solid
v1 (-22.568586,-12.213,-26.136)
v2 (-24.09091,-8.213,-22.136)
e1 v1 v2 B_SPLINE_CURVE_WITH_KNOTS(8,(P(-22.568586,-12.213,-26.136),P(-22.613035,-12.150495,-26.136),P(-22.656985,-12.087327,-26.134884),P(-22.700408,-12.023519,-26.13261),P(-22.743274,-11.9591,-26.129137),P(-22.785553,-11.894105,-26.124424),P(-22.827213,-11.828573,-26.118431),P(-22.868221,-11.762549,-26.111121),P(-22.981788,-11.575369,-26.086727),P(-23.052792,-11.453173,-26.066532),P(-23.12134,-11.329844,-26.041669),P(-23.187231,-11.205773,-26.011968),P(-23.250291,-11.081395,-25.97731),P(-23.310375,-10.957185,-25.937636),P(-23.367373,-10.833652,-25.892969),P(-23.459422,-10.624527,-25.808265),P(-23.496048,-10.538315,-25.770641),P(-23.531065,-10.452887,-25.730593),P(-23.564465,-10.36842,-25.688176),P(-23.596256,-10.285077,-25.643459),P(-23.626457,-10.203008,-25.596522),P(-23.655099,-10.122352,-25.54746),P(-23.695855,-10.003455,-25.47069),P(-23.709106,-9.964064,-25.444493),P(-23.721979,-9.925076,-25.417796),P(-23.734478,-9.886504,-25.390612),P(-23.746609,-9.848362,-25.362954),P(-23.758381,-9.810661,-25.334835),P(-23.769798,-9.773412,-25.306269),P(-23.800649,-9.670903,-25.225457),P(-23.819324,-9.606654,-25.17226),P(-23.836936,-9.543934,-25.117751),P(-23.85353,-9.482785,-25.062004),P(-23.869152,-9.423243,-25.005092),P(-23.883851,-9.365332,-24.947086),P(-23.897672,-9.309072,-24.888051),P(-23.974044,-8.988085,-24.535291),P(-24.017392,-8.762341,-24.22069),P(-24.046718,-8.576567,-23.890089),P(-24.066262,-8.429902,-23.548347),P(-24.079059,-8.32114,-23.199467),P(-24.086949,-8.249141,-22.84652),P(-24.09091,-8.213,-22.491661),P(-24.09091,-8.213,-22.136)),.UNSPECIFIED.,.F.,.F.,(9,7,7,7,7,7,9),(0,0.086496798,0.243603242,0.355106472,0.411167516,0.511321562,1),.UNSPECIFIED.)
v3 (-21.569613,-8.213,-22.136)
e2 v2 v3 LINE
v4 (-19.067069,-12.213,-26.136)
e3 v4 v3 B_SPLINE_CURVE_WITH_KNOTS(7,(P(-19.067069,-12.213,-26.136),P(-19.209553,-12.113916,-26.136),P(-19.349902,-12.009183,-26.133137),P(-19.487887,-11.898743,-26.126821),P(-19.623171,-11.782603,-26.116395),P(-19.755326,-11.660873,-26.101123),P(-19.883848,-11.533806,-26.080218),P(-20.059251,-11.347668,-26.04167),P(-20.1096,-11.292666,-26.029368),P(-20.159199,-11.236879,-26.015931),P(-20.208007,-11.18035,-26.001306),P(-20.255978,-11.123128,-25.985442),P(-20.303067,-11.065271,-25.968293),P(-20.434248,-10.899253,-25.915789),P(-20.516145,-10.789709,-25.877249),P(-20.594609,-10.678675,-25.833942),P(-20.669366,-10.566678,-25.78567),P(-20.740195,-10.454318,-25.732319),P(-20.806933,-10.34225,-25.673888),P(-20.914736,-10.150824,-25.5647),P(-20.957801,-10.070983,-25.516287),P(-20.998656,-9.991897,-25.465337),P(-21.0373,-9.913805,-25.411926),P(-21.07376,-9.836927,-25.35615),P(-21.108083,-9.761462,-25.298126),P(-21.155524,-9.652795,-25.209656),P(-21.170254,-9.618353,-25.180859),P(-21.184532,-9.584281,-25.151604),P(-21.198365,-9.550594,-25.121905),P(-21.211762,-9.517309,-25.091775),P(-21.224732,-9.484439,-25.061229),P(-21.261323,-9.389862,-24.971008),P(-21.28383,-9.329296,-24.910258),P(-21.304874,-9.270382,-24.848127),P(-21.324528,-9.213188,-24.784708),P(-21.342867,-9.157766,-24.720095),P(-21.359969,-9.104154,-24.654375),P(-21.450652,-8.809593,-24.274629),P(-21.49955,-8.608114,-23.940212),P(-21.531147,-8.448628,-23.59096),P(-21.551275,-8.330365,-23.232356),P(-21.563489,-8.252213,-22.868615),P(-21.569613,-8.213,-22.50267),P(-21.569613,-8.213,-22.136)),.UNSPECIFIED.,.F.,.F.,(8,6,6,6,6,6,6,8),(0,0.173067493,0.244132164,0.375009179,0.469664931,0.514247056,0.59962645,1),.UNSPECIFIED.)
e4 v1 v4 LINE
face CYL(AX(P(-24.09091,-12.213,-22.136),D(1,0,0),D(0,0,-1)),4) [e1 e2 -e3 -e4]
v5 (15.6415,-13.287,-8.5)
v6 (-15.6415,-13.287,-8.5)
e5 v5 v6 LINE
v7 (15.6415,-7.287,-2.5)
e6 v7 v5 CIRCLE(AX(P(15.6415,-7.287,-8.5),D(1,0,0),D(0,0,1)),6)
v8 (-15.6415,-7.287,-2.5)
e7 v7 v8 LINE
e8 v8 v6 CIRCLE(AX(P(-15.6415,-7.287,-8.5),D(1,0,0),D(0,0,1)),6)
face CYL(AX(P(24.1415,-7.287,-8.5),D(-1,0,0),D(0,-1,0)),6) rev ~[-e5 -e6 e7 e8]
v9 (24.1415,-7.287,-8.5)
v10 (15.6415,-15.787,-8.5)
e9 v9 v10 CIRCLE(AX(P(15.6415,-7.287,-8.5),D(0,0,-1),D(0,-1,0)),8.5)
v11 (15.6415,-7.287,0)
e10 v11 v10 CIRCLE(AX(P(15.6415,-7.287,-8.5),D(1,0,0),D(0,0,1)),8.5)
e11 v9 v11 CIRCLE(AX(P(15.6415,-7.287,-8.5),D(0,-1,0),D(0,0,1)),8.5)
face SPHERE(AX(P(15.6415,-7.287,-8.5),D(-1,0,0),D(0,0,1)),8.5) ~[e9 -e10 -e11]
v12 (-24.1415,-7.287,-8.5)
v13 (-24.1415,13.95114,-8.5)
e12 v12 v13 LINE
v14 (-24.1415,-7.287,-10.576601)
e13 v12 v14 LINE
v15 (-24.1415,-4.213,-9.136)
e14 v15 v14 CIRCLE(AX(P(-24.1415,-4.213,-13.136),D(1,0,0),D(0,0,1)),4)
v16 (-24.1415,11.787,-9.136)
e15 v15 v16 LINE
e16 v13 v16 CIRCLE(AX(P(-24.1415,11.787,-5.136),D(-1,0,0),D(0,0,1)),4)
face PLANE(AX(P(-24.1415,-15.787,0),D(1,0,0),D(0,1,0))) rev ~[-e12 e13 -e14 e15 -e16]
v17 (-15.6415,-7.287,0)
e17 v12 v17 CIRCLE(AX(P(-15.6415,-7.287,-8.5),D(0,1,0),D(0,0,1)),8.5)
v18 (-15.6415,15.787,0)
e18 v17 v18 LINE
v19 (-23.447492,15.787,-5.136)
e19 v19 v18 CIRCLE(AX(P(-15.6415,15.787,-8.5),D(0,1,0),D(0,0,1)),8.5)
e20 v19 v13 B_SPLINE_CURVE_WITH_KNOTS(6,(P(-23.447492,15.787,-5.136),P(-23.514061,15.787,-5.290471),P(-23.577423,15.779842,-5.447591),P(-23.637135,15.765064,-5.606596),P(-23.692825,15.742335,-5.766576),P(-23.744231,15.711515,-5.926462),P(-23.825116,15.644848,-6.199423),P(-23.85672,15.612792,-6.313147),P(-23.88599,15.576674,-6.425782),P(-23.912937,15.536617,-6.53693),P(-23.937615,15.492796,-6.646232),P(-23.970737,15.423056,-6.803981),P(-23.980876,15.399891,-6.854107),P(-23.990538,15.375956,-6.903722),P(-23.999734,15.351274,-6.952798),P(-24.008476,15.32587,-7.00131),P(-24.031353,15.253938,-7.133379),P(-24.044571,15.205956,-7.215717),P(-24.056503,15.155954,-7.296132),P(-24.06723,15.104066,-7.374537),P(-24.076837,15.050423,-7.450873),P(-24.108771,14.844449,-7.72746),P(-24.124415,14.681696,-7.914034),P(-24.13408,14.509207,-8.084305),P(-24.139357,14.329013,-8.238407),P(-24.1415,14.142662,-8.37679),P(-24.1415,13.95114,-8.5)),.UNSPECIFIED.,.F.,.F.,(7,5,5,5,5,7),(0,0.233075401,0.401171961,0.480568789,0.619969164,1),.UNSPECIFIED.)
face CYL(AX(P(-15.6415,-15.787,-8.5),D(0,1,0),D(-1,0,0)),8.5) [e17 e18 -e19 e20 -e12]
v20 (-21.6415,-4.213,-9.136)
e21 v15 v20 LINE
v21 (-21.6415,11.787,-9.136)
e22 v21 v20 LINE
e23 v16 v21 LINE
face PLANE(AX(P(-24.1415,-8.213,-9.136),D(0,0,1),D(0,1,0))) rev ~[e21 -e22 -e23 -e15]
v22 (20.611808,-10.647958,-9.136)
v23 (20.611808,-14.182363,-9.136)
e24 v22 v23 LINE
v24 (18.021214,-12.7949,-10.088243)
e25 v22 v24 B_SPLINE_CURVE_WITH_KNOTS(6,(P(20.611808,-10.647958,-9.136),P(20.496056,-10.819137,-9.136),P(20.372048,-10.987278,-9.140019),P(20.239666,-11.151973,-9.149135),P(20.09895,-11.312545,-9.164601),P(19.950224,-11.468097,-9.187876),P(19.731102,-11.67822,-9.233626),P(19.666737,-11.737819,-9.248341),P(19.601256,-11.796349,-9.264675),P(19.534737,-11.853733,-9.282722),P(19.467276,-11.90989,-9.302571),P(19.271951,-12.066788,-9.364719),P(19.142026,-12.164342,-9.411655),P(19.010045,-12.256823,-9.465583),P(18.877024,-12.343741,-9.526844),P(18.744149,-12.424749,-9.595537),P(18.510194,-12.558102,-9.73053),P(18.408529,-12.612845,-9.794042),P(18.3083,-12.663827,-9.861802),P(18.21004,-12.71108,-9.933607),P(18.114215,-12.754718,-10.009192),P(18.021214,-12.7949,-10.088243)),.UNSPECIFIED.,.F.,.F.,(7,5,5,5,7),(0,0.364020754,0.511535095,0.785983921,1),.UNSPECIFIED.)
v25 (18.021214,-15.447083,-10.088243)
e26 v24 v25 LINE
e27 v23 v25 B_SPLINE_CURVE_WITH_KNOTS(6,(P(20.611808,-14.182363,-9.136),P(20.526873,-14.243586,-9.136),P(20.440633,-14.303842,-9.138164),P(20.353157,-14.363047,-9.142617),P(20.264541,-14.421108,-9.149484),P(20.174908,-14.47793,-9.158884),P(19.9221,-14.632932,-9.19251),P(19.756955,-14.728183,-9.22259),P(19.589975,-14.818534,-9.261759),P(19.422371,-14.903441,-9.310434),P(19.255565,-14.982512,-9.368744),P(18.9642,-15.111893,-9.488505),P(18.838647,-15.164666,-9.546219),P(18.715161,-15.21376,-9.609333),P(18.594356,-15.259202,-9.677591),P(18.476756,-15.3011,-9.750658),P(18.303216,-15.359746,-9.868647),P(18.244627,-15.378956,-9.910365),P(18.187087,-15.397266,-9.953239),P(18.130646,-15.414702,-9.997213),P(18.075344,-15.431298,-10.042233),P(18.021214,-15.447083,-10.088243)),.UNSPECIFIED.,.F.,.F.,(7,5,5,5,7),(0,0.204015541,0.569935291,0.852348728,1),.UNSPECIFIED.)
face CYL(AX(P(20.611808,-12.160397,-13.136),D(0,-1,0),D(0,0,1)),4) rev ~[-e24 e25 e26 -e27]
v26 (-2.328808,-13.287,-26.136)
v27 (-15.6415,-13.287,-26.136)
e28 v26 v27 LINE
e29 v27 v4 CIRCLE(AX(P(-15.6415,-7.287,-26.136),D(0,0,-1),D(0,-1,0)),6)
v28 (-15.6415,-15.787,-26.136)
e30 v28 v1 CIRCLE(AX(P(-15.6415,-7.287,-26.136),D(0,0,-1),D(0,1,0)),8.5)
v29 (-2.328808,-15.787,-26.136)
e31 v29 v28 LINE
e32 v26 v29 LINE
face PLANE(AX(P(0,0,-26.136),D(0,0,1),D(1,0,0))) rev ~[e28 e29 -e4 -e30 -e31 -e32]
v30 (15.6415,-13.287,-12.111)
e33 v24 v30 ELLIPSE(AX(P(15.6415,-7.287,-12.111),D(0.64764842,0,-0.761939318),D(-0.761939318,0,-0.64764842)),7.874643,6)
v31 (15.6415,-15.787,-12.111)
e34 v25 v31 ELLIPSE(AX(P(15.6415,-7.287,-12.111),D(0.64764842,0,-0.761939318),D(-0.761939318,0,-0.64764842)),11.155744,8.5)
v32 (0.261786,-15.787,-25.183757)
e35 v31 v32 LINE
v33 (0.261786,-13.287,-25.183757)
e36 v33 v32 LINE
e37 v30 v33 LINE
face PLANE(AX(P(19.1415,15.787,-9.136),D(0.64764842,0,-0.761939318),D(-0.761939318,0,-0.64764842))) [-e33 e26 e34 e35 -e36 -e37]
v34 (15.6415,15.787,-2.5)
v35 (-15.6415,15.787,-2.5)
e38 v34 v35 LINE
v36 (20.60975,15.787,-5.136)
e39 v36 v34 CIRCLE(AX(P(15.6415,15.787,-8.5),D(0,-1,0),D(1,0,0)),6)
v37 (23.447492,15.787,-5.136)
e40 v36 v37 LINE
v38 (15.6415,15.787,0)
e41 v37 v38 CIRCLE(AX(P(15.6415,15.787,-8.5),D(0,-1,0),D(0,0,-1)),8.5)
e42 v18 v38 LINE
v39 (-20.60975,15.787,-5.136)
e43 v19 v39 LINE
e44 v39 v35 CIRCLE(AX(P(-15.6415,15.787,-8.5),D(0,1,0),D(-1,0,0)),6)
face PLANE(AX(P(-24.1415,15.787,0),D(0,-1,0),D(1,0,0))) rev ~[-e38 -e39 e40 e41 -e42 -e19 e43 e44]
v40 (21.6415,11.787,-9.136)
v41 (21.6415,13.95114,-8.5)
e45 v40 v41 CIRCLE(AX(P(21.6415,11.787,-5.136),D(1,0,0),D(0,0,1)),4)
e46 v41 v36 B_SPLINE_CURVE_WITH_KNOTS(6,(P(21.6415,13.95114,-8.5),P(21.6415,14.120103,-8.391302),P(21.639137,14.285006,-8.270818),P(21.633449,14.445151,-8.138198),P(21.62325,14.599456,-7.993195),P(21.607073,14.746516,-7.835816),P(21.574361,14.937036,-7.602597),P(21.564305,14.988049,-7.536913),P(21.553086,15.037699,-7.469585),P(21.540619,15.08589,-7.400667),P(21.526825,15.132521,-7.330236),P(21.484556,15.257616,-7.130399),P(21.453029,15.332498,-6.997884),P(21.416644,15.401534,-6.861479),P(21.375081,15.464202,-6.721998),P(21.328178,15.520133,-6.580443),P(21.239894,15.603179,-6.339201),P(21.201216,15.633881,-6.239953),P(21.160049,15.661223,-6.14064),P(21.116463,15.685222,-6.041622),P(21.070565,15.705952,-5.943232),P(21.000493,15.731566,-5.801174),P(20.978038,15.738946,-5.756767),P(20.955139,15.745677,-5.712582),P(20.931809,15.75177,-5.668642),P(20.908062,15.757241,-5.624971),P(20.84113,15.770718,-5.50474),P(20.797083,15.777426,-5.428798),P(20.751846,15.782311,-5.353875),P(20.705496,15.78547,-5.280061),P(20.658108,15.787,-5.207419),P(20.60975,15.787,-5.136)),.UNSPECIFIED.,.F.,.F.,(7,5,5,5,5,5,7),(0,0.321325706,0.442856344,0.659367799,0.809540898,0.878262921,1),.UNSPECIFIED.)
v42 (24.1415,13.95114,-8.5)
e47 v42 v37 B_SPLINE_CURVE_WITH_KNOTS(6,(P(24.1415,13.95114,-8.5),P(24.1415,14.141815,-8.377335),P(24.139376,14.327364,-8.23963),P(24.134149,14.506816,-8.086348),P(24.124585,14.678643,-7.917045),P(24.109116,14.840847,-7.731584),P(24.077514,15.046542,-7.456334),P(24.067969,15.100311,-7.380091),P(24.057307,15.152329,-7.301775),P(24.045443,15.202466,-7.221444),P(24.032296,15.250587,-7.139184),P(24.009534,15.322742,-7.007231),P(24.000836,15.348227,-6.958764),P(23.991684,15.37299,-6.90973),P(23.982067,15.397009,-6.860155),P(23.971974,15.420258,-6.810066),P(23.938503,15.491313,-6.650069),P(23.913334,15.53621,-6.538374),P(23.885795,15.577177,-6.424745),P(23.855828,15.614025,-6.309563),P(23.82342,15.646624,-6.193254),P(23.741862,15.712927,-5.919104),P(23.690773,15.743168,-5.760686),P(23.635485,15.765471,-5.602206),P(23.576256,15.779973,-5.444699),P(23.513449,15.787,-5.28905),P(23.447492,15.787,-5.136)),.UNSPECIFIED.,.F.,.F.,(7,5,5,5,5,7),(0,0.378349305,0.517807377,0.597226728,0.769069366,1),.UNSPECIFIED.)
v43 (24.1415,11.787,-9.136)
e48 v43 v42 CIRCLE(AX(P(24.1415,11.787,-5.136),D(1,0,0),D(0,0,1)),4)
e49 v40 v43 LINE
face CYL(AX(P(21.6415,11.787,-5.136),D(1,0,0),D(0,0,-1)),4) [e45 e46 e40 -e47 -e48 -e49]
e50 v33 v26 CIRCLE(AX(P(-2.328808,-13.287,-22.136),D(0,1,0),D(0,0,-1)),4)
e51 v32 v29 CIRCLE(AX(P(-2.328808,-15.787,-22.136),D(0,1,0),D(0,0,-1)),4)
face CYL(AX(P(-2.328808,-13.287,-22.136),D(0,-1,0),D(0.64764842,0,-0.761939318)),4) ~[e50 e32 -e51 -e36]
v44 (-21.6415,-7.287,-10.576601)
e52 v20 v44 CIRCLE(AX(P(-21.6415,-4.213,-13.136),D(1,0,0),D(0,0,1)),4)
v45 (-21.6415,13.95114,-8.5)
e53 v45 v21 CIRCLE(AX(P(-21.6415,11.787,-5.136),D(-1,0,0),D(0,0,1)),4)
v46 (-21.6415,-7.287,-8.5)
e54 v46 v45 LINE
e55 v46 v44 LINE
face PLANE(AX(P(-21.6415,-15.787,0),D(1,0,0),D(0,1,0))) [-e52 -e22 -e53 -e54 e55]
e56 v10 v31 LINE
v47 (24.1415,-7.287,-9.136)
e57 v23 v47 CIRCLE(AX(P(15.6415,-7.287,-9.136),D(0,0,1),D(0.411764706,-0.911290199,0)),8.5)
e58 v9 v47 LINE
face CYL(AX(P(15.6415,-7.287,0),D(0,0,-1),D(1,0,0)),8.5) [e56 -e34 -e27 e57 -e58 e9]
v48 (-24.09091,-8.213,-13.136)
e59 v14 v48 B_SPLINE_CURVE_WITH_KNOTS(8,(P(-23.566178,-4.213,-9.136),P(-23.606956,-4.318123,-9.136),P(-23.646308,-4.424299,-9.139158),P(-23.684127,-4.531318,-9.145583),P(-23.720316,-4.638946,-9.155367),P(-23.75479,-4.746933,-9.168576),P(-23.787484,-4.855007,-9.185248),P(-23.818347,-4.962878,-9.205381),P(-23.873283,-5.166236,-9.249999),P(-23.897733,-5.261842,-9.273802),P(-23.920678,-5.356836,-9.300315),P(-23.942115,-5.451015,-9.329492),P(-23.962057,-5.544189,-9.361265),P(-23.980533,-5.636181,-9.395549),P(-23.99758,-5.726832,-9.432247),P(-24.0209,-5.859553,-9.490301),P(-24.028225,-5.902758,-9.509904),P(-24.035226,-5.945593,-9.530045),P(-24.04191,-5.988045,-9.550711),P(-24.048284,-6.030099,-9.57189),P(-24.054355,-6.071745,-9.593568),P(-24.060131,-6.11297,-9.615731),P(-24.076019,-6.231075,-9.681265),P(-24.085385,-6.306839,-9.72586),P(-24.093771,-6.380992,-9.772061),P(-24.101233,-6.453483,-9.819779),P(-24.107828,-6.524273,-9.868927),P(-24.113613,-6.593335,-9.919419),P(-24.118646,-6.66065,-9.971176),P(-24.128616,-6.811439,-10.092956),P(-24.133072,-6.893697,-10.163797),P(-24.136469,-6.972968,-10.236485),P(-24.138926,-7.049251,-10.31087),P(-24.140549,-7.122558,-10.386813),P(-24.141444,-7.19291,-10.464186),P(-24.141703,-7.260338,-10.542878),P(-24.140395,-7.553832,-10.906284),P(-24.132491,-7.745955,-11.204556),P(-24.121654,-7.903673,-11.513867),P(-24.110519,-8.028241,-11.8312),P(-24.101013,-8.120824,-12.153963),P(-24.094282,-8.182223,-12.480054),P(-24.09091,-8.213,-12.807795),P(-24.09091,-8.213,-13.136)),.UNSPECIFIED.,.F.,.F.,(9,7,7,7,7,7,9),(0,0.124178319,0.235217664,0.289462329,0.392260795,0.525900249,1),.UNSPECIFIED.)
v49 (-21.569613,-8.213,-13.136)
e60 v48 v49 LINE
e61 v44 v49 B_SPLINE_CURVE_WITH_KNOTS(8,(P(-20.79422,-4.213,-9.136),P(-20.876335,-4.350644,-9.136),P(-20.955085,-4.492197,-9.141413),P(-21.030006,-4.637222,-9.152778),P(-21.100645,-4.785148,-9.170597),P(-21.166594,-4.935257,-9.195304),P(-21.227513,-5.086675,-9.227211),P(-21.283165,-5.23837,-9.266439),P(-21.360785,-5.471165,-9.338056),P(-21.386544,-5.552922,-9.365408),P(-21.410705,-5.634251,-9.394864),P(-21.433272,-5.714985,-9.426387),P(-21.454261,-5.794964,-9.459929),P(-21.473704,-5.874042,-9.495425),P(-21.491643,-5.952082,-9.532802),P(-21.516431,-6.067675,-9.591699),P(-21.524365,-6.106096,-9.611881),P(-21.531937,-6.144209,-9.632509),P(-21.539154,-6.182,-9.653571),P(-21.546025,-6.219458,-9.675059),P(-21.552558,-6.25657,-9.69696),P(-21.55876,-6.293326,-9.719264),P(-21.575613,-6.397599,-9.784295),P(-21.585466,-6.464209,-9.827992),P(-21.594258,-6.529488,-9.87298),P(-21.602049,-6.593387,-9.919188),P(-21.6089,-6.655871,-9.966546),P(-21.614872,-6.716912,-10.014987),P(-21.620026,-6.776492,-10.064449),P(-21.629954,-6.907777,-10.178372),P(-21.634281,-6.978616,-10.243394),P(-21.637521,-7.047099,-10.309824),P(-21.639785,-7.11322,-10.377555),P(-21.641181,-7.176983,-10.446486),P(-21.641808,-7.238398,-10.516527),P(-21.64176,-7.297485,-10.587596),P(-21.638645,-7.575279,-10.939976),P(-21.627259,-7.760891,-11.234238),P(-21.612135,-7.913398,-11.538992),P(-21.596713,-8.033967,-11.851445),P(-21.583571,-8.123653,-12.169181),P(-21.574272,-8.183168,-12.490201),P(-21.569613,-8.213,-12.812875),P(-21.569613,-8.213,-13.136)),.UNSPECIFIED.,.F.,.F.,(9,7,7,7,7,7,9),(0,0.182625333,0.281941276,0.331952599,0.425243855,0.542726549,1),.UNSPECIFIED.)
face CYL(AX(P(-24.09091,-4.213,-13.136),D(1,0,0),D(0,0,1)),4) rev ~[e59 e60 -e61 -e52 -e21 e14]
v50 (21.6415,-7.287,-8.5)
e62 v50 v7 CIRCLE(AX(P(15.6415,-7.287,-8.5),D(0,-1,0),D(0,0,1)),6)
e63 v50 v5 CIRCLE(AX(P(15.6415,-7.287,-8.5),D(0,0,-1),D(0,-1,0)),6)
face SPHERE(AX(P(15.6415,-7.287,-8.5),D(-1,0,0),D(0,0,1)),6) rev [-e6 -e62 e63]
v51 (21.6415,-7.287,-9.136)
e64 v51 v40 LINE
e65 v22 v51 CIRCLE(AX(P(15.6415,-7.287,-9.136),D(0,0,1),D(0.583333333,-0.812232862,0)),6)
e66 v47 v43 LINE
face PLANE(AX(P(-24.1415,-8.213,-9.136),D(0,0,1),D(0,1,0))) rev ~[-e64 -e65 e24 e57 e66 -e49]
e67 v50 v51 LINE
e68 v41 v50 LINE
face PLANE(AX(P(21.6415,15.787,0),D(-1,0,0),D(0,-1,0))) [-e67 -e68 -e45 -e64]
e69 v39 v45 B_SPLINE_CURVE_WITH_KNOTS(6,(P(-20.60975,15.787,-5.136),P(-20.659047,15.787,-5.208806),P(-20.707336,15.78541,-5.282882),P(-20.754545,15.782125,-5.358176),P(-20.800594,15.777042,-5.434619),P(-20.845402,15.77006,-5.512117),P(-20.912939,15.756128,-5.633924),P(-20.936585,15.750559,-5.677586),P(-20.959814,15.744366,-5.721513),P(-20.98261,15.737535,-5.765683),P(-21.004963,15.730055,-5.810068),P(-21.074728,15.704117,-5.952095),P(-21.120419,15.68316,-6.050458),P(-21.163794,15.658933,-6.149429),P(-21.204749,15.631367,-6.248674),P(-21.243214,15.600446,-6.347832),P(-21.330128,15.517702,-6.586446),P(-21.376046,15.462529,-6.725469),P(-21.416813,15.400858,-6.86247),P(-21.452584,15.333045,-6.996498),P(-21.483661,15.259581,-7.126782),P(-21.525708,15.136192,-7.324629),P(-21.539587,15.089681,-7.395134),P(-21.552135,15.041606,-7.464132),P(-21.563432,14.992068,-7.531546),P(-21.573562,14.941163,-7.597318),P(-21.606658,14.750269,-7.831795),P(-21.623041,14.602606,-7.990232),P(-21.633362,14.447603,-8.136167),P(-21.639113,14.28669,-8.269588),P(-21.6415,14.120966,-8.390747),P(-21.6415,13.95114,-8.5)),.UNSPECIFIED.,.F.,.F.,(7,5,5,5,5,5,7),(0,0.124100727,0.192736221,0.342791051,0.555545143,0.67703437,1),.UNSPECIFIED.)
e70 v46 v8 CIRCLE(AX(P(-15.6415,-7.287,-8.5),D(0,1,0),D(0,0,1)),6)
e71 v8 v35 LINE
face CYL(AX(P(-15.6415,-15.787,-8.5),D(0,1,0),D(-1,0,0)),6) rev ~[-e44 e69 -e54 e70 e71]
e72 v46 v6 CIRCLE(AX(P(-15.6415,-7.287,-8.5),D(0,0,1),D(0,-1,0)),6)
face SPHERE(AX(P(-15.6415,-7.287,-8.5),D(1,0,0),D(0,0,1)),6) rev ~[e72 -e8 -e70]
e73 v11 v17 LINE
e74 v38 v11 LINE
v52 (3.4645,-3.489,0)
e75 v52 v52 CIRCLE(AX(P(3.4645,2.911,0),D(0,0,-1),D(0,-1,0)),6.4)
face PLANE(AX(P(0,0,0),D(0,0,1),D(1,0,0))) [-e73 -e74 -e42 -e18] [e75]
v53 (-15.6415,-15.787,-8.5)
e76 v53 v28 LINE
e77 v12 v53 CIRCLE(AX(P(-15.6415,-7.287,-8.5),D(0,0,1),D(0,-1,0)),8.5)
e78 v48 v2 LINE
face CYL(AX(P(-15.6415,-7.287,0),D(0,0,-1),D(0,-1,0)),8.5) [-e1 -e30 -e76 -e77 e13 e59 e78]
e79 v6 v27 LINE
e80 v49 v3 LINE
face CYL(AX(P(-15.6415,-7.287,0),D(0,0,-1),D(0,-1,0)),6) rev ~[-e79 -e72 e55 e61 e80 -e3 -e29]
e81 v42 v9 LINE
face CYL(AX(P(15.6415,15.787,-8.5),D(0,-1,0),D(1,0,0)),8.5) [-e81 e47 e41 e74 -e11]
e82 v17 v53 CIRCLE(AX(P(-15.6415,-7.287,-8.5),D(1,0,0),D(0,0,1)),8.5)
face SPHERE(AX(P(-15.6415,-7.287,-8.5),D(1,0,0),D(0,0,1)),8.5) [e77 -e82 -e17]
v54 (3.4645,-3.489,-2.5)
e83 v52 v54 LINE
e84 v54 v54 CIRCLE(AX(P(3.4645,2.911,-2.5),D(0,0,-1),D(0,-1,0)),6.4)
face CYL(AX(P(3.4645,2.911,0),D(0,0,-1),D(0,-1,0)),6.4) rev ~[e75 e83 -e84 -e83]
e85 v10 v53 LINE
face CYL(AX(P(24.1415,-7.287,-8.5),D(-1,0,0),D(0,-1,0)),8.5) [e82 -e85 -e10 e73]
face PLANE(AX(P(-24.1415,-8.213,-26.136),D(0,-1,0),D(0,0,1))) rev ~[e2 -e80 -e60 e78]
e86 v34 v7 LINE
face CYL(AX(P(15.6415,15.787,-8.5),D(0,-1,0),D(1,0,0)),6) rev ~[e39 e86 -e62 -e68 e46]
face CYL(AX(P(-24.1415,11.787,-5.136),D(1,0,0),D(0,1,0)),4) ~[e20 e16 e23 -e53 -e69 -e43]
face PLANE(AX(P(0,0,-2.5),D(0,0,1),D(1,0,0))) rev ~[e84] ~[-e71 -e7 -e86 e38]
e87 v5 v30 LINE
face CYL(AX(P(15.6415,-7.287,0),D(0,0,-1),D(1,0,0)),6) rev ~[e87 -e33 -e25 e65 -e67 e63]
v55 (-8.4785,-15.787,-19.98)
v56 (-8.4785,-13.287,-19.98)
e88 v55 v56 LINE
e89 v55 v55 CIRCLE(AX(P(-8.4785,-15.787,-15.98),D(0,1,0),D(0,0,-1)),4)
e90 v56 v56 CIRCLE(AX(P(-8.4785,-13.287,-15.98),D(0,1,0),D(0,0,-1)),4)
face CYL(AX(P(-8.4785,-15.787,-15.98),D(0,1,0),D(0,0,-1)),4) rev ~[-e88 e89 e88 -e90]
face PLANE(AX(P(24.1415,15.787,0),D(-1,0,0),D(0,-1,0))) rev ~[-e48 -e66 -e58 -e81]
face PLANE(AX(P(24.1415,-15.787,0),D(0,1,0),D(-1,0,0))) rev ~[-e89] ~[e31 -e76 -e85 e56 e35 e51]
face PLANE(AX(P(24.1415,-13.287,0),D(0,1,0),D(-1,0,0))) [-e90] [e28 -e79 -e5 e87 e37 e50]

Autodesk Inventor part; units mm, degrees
ref_plane "YZ Plane" through (0, 0, 0) normal (1, 0, 0) x (0, 1, 0)
ref_plane "XZ Plane" through (0, 0, 0) normal (0, 1, 0) x (-1, 0, 0)
ref_plane "XY Plane" through (0, 0, 0) normal (0, 0, 1) x (1, 0, 0)
sketch "Sketch1" plane through (0, 0, 0) normal (0, 0, 1) x (1, 0, 0)
  line L0 (-24.1415, 15.787) -> (24.1415, 15.787)
  line L1 (24.1415, 15.787) -> (24.1415, -15.787)
  line L2 (24.1415, -15.787) -> (-24.1415, -15.787)
  line L3 (-24.1415, -15.787) -> (-24.1415, 15.787)
  point P0 (0, 0)
  dimension "d0" = 31.574
  dimension "d1" = 48.283
  dimension "d2" = 24.1415
  dimension "d3" = 15.787
extrude "Extrusion1" add sketch "Sketch1" against normal blind 26.136
fillet "Fillet1" radius 8.5 5 edges at (0, -15.787, 0) (24.1415, 0, 0) (-24.1415, 0, 0) (-24.1415, -15.787, -13.068) (24.1415, -15.787, -13.068)
shell "Shell1" thickness 2.5 removed faces 2 at (5.2138, 15.787, -17.424) at (-5.2138, 5.2623, -26.136)
sketch "Sketch2" plane through (-24.1415, -7.287, -8.5) normal (-1, 0, 0) x (0, 0, 1)
  line L0 (0, 23.074) -> (-17.636, 23.074) projected
  line L1 (-17.636, 23.074) -> (-17.636, 0) projected
  line L2 (-17.636, -0.926) -> (-0.636, -0.926)
  line L3 (-0.636, -0.926) -> (-0.636, 23.074)
  line L4 (-0.636, 23.074) -> (-17.636, 23.074)
  line L5 (-17.636, 23.074) -> (-17.636, -0.926)
  point P0 (8.5, 7.287)
  dimension "d8" = 17
  dimension "d9" = 24
extrude "Extrusion2" cut sketch "Sketch2" against normal through all
sketch "Sketch3" plane through (-15.6415, 15.787, 0) normal (0, 1, 0) x (1, 0, 0)
  line L0 (39.783, 8.5) -> (39.783, 9.136) projected
  line L1 (39.783, 9.136) -> (34.783, 9.136)
  line L2 (34.783, 9.136) -> (14.783, 26.136)
  line L3 (0, 26.136) -> (31.283, 26.136) projected
  line L4 (39.783, 9.136) -> (39.783, 26.136)
  line L5 (39.783, 26.136) -> (14.783, 26.136)
  point P0 (15.6415, 0)
  dimension "d12" = 5
  dimension "d13" = 20
extrude "Extrusion3" cut sketch "Sketch3" against normal through all
fillet "Fillet2" radius 4 6 edges at (-22.8303, -8.213, -26.136) (19.1415, -13.5967, -9.136) (-22.8303, -8.213, -9.136) (-22.8915, 15.787, -9.136) (22.8915, 15.787, -9.136) (-0.8585, -14.537, -26.136)
sketch "Sketch4" plane through (0, 0, 0) normal (0, 0, 1) x (1, 0, 0)
  line L0 (0.2618, -15.787) -> (-2.3288, -15.787) projected
  line L1 (0.2618, -15.787) -> (15.6415, -15.787) projected
  line L2 (-15.6415, -15.787) -> (15.6415, -15.787) projected
  line L3 (-15.6415, -15.787) -> (-2.3288, -15.787) projected
  line L4 (-24.1415, 11.787) -> (-24.1415, 13.9511) projected
  line L5 (-24.1415, 11.787) -> (-24.1415, -4.213) projected
  line L6 (-24.1415, -4.213) -> (-24.1415, -7.287) projected
  line L7 (-24.1415, 13.9511) -> (-24.1415, -7.287) projected
  point P0 (0, 0)
  point P1 (3.4645, 2.911)
  dimension "d17" = 27.606
  dimension "d18" = 18.698
hole "Hole1" at (3.4645, 2.911, 0) direction (0, 0, -1) diameter 12.8 end through all
sketch "Sketch5" plane through (-15.6415, -15.787, -8.5) normal (0, -1, 0) x (1, 0, 0)
  line L0 (-8.5, -2.0766) -> (-8.5, -0.636) projected
  line L1 (12.706, 8.5) -> (25.506, 8.5) projected
  line L2 (0, 8.5) -> (31.283, 8.5) projected
  line L3 (31.283, 8.5) -> (0, 8.5) projected
  point P0 (15.6415, 8.5)
  point P1 (7.163, -7.48)
  dimension "d26" = 15.663
  dimension "d27" = 15.98
hole "Hole2" at (-8.4785, -15.787, -15.98) direction (0, 1, 0) diameter 8 end through all
equation "\"d2\" = 0.5 * d1"
equation "\"d3\" = 0.5 * d0"
properties part number "314-08" material "Steel"
